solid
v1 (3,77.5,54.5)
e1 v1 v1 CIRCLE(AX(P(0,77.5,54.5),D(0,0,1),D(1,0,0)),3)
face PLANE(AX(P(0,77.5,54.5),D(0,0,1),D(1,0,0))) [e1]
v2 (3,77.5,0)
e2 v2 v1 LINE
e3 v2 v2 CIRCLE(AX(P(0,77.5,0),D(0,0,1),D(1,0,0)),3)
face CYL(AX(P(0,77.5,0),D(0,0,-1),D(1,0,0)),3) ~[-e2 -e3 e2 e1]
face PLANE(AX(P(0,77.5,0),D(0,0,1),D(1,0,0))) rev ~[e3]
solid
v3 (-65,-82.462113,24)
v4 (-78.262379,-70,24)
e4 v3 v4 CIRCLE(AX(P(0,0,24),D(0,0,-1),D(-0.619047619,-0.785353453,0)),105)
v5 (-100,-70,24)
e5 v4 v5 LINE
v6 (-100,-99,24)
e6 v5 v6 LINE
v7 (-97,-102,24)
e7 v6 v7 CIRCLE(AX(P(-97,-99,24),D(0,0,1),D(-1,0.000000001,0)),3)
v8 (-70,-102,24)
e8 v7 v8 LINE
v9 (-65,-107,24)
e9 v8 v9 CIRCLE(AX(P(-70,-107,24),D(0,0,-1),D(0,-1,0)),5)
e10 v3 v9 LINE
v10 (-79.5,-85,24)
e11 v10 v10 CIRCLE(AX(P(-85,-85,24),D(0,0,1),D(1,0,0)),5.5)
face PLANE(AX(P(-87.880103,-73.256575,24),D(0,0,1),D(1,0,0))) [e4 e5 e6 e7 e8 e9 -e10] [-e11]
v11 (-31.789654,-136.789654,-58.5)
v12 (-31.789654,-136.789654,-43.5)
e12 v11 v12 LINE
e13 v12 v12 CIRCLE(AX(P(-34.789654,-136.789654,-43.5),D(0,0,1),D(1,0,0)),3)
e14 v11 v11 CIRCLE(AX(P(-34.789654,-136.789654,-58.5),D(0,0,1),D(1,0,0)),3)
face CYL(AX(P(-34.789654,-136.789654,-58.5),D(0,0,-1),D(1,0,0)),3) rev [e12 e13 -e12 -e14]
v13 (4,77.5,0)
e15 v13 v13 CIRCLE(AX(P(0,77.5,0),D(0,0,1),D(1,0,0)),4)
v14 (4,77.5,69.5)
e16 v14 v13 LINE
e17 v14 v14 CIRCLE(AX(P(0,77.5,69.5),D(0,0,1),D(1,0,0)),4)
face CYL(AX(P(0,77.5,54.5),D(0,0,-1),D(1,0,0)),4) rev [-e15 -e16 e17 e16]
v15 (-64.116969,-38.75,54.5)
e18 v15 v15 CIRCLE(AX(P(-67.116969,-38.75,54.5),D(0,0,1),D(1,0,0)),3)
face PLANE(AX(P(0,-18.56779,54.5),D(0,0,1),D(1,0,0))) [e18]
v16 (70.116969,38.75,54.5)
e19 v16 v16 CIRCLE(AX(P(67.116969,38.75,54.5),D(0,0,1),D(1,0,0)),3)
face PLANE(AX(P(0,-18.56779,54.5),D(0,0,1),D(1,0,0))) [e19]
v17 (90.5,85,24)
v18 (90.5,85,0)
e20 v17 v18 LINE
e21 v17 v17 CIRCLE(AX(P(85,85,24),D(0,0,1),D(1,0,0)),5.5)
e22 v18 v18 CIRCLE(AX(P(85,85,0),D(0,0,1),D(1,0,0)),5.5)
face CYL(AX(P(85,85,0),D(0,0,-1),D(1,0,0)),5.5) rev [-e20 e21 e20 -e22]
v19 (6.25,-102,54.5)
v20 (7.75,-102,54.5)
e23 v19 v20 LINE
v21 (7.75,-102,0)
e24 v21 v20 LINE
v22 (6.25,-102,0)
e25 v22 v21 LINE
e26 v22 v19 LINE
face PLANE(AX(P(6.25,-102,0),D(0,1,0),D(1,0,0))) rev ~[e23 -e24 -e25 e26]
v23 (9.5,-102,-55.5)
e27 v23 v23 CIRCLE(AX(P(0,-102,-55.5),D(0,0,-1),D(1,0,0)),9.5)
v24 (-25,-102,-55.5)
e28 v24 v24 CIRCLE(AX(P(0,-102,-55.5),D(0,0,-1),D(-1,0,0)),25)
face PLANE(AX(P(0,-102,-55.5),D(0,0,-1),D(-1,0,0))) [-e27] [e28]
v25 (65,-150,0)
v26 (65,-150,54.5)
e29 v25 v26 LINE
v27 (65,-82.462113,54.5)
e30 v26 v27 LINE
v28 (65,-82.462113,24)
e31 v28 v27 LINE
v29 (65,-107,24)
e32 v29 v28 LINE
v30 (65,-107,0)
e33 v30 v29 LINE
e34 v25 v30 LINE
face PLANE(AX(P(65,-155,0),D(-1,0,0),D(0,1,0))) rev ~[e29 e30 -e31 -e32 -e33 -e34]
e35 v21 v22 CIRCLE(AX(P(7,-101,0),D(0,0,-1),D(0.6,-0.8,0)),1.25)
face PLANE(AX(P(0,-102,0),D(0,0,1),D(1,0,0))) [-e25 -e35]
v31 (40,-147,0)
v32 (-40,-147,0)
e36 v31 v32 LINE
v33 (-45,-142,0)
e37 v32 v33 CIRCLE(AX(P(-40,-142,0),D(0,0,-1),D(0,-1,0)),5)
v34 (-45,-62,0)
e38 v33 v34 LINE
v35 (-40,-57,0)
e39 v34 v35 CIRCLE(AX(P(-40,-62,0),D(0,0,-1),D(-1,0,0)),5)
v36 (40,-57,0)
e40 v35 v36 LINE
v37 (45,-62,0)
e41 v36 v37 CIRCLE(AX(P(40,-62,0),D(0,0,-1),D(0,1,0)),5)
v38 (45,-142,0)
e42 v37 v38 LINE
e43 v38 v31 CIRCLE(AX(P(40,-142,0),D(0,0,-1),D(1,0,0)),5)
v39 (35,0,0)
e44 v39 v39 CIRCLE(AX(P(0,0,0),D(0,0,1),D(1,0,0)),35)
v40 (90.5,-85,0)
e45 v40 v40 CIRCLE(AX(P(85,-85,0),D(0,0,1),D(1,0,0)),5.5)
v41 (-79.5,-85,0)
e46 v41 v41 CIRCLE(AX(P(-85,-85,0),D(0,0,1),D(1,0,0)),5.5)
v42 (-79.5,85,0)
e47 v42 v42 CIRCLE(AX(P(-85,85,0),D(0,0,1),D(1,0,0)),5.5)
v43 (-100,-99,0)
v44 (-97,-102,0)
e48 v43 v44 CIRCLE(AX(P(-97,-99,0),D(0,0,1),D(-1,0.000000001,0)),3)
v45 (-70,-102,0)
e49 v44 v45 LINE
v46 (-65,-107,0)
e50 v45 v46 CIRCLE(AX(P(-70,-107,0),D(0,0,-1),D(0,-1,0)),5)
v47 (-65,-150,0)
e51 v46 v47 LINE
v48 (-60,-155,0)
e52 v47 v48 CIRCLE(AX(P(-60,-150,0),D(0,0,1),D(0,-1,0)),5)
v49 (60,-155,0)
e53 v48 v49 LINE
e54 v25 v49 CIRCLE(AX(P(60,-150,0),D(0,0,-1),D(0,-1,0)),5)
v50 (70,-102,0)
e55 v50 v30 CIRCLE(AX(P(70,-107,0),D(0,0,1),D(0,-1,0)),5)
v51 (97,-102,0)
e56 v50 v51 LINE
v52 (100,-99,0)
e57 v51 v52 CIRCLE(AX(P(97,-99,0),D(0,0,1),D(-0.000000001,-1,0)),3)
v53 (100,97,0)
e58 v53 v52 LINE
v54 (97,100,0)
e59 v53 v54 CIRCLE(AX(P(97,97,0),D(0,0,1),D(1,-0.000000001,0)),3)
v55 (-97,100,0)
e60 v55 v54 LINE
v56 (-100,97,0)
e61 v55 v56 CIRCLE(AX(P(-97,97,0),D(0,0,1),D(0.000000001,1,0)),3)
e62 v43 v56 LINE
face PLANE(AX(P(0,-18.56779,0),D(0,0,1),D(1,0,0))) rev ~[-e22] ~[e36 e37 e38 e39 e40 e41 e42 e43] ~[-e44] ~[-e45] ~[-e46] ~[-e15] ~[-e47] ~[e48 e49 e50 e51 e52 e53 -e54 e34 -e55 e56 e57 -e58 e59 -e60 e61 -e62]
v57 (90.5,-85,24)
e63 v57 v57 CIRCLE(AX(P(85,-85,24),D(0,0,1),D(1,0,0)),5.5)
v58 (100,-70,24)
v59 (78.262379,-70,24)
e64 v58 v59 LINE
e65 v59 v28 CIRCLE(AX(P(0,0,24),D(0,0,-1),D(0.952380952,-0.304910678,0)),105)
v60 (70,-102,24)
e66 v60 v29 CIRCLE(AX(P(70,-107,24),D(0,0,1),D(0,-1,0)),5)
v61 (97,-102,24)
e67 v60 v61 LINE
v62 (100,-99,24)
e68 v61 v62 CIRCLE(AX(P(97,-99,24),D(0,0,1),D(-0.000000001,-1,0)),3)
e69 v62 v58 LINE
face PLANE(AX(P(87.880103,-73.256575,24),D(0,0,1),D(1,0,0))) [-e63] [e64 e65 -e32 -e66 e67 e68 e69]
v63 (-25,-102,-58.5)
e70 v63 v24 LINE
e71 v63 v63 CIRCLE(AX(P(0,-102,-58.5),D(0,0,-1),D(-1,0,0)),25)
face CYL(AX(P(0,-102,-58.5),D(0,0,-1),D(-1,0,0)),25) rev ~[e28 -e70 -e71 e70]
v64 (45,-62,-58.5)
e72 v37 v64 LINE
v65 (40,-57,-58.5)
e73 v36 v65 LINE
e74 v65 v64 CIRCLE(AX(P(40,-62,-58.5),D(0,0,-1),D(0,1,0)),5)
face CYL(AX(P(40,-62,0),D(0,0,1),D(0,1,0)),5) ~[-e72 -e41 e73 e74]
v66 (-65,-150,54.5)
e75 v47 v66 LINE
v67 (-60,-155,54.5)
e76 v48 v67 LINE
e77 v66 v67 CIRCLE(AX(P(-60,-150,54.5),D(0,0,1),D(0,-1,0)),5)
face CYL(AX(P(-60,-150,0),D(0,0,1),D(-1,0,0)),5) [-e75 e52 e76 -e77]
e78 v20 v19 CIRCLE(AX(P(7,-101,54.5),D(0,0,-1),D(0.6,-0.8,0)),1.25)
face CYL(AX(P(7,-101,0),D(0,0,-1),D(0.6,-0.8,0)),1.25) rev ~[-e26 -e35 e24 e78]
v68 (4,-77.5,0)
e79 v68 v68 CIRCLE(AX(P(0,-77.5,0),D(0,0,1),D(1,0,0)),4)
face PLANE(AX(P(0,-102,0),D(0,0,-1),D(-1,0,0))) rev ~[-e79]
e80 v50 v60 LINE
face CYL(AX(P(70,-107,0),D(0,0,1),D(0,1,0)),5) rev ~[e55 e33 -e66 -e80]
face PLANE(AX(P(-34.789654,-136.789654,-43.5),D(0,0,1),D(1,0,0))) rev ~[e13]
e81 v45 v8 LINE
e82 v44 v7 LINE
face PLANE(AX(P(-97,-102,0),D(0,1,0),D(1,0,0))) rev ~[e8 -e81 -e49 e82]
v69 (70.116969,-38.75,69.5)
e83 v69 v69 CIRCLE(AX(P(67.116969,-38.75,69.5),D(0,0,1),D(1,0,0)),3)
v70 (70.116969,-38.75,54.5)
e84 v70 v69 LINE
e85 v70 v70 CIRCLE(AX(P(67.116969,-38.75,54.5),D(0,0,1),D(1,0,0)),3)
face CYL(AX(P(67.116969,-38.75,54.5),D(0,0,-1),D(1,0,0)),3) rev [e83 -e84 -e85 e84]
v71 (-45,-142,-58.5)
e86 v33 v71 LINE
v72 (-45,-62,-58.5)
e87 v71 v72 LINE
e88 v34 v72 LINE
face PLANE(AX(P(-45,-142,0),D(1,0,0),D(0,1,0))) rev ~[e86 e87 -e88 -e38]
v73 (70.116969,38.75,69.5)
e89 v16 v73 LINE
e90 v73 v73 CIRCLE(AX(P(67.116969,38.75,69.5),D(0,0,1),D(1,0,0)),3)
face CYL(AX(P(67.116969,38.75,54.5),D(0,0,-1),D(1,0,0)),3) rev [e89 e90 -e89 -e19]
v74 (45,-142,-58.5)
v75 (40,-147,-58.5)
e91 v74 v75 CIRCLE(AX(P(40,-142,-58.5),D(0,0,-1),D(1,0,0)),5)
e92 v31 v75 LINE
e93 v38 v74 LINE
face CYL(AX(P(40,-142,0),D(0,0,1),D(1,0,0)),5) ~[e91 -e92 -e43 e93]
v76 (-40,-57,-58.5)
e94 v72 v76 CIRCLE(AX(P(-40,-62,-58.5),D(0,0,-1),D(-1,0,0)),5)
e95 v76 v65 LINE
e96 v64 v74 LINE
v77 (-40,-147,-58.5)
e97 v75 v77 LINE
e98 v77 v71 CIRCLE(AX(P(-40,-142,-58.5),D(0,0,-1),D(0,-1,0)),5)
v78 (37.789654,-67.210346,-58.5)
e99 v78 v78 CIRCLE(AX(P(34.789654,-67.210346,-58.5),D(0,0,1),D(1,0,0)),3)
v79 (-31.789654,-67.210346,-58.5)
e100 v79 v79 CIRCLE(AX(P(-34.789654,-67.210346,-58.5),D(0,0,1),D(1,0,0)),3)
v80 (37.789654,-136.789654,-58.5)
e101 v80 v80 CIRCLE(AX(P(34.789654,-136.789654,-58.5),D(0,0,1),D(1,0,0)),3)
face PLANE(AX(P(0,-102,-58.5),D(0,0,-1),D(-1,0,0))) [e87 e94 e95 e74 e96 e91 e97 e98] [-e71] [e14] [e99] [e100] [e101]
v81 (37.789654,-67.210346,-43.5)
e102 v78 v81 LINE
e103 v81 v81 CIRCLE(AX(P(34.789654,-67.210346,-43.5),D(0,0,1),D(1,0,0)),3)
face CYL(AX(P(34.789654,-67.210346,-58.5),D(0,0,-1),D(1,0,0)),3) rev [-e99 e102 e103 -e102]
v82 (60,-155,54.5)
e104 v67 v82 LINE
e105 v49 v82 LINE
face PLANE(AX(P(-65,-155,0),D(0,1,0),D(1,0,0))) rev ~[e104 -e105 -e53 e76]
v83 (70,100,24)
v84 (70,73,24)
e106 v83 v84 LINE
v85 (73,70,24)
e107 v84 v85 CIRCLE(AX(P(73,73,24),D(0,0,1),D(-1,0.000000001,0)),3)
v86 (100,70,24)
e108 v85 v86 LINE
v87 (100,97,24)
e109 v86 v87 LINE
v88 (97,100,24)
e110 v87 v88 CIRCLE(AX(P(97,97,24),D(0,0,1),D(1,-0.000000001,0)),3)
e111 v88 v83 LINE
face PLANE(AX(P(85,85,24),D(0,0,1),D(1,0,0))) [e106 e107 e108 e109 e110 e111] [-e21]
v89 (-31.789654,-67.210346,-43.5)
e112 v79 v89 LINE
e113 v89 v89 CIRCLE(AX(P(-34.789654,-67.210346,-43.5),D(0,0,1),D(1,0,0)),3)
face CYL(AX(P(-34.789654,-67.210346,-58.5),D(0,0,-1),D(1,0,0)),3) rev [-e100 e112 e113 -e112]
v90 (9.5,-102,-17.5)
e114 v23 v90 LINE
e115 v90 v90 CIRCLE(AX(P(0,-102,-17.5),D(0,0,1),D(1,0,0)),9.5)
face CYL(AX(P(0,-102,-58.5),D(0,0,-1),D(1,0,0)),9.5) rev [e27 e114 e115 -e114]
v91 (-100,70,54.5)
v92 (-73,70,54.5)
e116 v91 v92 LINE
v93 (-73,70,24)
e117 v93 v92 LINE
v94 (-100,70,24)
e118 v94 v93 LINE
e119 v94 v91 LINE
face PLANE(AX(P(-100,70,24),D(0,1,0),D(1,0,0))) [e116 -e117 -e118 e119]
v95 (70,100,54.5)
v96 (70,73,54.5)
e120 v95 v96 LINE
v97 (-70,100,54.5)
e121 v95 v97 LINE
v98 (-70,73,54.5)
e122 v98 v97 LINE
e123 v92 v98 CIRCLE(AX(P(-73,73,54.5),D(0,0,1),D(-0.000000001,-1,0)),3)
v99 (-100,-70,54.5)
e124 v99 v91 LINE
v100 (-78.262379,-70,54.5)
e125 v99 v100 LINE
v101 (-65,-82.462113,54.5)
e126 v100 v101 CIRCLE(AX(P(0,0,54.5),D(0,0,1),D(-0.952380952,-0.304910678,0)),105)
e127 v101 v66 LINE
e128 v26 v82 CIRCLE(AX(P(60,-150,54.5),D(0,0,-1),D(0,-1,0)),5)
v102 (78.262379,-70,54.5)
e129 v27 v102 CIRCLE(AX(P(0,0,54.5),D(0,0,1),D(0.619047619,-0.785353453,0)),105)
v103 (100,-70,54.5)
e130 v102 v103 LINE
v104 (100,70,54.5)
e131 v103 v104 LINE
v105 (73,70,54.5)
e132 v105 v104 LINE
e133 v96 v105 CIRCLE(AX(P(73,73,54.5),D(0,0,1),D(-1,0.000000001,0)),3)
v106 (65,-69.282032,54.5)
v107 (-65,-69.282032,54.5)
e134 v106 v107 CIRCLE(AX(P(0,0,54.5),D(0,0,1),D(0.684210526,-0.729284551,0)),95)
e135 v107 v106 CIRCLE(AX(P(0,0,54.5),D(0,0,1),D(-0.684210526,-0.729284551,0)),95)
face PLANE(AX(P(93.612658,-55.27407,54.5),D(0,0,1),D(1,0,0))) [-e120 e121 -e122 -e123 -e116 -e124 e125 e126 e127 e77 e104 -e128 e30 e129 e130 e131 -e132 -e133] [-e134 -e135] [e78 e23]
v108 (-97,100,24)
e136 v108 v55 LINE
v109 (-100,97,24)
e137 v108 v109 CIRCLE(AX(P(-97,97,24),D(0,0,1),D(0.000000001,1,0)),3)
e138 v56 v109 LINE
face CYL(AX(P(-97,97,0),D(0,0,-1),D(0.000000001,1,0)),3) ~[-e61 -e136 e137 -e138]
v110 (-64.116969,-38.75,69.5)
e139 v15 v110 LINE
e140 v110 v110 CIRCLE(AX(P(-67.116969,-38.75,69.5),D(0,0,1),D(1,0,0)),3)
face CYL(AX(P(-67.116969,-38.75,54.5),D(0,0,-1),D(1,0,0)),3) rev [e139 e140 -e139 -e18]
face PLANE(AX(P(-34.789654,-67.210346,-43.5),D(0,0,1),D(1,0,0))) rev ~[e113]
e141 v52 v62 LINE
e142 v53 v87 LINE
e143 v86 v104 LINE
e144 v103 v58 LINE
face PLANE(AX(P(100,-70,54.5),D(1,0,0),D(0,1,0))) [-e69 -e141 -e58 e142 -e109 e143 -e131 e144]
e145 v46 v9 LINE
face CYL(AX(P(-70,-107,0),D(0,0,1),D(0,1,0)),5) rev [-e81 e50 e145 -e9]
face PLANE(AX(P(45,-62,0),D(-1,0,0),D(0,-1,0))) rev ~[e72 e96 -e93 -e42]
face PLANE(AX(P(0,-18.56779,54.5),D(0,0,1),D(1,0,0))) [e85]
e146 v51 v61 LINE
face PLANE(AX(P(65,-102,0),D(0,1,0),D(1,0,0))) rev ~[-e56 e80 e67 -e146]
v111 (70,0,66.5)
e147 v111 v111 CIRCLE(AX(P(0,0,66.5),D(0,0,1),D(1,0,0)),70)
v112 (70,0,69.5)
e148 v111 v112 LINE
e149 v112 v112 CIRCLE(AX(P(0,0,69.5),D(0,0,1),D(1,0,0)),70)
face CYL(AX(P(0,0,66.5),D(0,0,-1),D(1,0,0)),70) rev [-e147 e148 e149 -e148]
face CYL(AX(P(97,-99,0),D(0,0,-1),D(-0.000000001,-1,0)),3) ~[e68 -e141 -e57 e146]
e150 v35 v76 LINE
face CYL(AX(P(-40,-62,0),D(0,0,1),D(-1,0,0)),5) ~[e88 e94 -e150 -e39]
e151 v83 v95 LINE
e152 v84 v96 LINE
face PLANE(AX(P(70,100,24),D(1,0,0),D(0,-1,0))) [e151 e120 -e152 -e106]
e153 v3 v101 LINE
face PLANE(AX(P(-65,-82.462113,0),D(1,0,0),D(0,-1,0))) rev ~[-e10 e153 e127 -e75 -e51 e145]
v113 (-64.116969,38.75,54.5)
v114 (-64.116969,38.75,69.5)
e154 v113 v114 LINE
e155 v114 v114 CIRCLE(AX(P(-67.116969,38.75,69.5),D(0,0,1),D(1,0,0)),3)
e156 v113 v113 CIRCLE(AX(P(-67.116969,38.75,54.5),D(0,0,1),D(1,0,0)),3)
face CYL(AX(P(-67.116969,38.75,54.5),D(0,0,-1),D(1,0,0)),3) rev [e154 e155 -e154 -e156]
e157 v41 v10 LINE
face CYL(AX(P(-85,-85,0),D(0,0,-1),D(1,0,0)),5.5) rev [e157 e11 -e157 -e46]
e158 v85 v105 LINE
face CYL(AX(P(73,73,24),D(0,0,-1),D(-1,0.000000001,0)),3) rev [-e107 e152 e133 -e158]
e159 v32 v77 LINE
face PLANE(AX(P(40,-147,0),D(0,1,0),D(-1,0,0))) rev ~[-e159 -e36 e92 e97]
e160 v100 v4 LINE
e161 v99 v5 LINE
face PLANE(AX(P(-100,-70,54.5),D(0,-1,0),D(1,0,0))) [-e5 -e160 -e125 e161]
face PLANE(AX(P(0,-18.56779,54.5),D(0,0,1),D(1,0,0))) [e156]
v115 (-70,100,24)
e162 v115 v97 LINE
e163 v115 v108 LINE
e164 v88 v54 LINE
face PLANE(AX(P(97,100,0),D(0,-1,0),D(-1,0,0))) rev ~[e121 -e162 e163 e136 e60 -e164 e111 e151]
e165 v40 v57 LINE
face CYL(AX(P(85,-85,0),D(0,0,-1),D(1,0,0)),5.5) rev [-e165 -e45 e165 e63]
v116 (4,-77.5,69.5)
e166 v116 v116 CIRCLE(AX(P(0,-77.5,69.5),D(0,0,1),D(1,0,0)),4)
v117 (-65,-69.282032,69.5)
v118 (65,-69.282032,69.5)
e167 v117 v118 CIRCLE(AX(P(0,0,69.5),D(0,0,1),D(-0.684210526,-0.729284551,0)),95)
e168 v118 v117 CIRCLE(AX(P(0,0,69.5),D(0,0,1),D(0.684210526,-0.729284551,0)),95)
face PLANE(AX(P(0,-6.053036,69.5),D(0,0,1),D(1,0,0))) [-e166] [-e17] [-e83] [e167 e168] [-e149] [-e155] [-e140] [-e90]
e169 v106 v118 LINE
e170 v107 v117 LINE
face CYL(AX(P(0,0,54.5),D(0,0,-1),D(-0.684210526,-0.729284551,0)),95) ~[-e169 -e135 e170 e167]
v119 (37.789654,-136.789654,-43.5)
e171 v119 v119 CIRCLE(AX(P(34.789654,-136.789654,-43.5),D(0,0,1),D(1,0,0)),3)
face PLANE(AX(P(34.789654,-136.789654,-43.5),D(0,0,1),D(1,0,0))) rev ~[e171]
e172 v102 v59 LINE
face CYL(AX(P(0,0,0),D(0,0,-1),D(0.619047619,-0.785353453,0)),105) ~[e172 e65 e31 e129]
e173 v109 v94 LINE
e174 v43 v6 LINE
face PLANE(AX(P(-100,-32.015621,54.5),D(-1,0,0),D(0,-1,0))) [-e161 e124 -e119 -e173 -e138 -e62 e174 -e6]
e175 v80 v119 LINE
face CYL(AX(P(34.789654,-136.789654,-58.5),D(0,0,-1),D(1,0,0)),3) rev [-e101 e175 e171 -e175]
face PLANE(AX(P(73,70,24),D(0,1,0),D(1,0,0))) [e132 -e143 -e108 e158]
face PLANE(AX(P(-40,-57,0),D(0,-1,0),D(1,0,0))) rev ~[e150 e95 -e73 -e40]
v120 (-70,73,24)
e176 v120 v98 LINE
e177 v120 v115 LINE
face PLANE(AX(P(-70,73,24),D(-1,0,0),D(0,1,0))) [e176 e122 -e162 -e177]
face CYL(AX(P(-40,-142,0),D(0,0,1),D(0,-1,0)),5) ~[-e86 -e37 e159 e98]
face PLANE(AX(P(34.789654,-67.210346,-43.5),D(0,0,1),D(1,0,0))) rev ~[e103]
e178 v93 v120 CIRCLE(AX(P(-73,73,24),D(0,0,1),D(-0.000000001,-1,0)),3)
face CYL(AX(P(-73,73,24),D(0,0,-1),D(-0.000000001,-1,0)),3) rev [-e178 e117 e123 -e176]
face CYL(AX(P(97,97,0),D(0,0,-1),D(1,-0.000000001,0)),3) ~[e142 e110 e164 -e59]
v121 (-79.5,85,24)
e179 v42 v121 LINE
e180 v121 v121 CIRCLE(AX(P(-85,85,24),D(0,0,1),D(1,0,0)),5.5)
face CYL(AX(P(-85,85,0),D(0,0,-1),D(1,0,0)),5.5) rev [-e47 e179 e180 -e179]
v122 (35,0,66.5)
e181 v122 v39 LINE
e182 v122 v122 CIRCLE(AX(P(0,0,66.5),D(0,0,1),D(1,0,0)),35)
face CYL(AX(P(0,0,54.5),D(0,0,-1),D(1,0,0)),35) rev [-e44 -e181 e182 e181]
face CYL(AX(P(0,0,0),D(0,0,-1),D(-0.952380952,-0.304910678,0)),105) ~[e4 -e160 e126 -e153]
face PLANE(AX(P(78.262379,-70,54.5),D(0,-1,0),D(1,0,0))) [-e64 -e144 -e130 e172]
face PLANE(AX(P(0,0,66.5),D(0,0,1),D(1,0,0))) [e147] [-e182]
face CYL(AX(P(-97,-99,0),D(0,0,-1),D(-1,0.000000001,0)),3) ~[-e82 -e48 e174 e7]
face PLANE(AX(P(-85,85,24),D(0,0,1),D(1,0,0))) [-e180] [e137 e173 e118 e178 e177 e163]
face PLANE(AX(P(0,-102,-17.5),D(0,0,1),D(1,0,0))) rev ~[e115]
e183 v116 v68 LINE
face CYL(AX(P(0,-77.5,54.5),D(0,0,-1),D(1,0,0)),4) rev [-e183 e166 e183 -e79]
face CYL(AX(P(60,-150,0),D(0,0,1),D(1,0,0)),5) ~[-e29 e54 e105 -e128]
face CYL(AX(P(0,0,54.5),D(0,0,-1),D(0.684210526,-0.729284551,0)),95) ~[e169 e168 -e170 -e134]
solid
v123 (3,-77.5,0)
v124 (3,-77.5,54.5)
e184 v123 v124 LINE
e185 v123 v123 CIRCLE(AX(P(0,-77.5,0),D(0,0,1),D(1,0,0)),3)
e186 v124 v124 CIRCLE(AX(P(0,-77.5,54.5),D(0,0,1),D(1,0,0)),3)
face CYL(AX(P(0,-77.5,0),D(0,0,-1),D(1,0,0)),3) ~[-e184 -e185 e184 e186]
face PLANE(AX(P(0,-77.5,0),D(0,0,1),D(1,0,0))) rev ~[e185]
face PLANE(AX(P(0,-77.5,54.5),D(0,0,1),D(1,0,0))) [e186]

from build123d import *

# Parameters (mm, degrees)
SKETCH_1_R          = 4
SKETCH_1_R_2        = 5.5
SKETCH_1_R_3        = 35
EXTRUDE_1_DEPTH     = 54.5
SKETCH_1_R_4        = 3
EXTRUDE_1_2_DEPTH   = 54.5
EXTRUDE_1_3_DEPTH   = 54.5
SKETCH_1_3_R        = 5.5
EXTRUDE_2_DEPTH     = 24
EXTRUDE_START       = 54.5
SKETCH_1_4_R        = 3
SKETCH_1_4_R_2      = 4
SKETCH_1_4_R_3      = 35
EXTRUDE_3_DEPTH     = 15
CUT_EXTRUDE_START   = 66.5
SKETCH_1_5_R        = 70
SKETCH_1_5_R_2      = 35
CUT_EXTRUDE_1_DEPTH = 3
SKETCH_2_R          = 9.5
SKETCH_2_R_2        = 3
EXTRUDE_4_DEPTH     = 58.5
CUT_EXTRUDE_START_2 = -58.5
SKETCH_2_3_R        = 9.5
CUT_EXTRUDE_2_DEPTH = 41
SKETCH_2_4_R        = 3
CUT_EXTRUDE_3_DEPTH = 15
FILLET_1_R          = 5
SKETCH_3_R          = 25
CUT_EXTRUDE_4_DEPTH = 3
EXTRUDE_5_REACH     = 218.319
CUT_EXTRUDE_START_3 = -30.5
SKETCH_4_3_R        = 5.5
CUT_EXTRUDE_5_DEPTH = 30.5


with BuildPart() as part:
    # 草图1 → 凸台-拉伸1 (new body)
    with BuildSketch(Plane.XY):
        with BuildLine():
            ThreePointArc((-97, 100), (-99.121320344, 99.121320344), (-100, 97))
            Line((-100, 97), (-100, -32.015621187))
            ThreePointArc((-100, -32.015621187), (-86.269705701, -59.854305428), (-65, -82.462112512))
            Line((-65, -82.462112512), (-65, -155))
            Line((-65, -155), (65, -155))
            Line((65, -155), (65, -82.462112512))
            ThreePointArc((65, -82.462112512), (86.269705701, -59.854305428), (100, -32.015621187))
            Line((100, -32.015621187), (100, 97))
            ThreePointArc((100, 97), (99.121320344, 99.121320344), (97, 100))
            Line((97, 100), (-97, 100))
        make_face()
        with BuildLine():
            ThreePointArc((7.75, -102), (7, -102.25), (6.25, -102))
            Line((6.25, -102), (7.75, -102))
        make_face(mode=Mode.SUBTRACT)
        with Locations((0, -77.5)):
            Circle(SKETCH_1_R, mode=Mode.SUBTRACT)
        with Locations((-85, 85)):
            Circle(SKETCH_1_R_2, mode=Mode.SUBTRACT)
        Circle(SKETCH_1_R_3, mode=Mode.SUBTRACT)
        with Locations((0, 77.5)):
            Circle(SKETCH_1_R, mode=Mode.SUBTRACT)
        with Locations((85, 85)):
            Circle(SKETCH_1_R_2, mode=Mode.SUBTRACT)
    extrude(amount=EXTRUDE_1_DEPTH)

    # 草图1<3> → 凸台-拉伸2 (add)
    # profile 1 of 4: a face of its own
    with BuildSketch(Plane.XY):
        with BuildLine():
            ThreePointArc((-97, 100), (-99.121320344, 99.121320344), (-100, 97))
            Line((-100, 97), (-100, 32.015621187))
            ThreePointArc((-100, 32.015621187), (-74.246212025, 74.246212025), (-32.015621187, 100))
            Line((-32.015621187, 100), (-97, 100))
        make_face()
        with Locations((-85, 85)):
            Circle(SKETCH_1_3_R, mode=Mode.SUBTRACT)
    # profile 2 of 4: a face of its own
    with BuildSketch(Plane.XY):
        with BuildLine():
            Line((97, 100), (32.015621187, 100))
            ThreePointArc((32.015621187, 100), (74.246212025, 74.246212025), (100, 32.015621187))
            Line((100, 32.015621187), (100, 97))
            ThreePointArc((100, 97), (99.121320344, 99.121320344), (97, 100))
        make_face()
        with Locations((85, 85)):
            Circle(SKETCH_1_3_R, mode=Mode.SUBTRACT)
    # profile 3 of 4: a face of its own
    with BuildSketch(Plane.XY):
        with BuildLine():
            ThreePointArc((-65, -82.462112512), (-86.269705701, -59.854305428), (-100, -32.015621187))
            Line((-100, -32.015621187), (-100, -99))
            ThreePointArc((-100, -99), (-99.121320344, -101.121320344), (-97, -102))
            Line((-97, -102), (-65, -102))
            Line((-65, -102), (-65, -82.462112512))
        make_face()
        with Locations((-85, -85)):
            Circle(SKETCH_1_3_R, mode=Mode.SUBTRACT)
    # profile 4 of 4: a face of its own
    with BuildSketch(Plane.XY):
        with BuildLine():
            Line((100, -99), (100, -32.015621187))
            ThreePointArc((100, -32.015621187), (86.269705701, -59.854305428), (65, -82.462112512))
            Line((65, -82.462112512), (65, -102))
            Line((65, -102), (97, -102))
            ThreePointArc((97, -102), (99.121320344, -101.121320344), (100, -99))
        make_face()
        with Locations((85, -85)):
            Circle(SKETCH_1_3_R, mode=Mode.SUBTRACT)
    extrude(amount=EXTRUDE_2_DEPTH)

    # 草图1<4> → 凸台-拉伸3 (add)
    with BuildSketch(Plane.XY.offset(EXTRUDE_START)):
        with BuildLine():
            ThreePointArc((-65, -69.282032303), (0, -95), (65, -69.282032303))
            ThreePointArc((65, -69.282032303), (0, 95), (-65, -69.282032303))
        make_face()
        with Locations((-67.116968793, -38.75)):
            Circle(SKETCH_1_4_R, mode=Mode.SUBTRACT)
        with Locations((0, -77.5)):
            Circle(SKETCH_1_4_R_2, mode=Mode.SUBTRACT)
        with Locations((67.116968793, -38.75)):
            Circle(SKETCH_1_4_R, mode=Mode.SUBTRACT)
        with Locations((-67.116968793, 38.75)):
            Circle(SKETCH_1_4_R, mode=Mode.SUBTRACT)
        with Locations((0, 77.5)):
            Circle(SKETCH_1_4_R_2, mode=Mode.SUBTRACT)
        with Locations((67.116968793, 38.75)):
            Circle(SKETCH_1_4_R, mode=Mode.SUBTRACT)
        Circle(SKETCH_1_4_R_3, mode=Mode.SUBTRACT)
    extrude(amount=EXTRUDE_3_DEPTH)

    # 草图1<5> → 切除-拉伸1 (cut)
    with BuildSketch(Plane.XY.offset(CUT_EXTRUDE_START)):
        Circle(SKETCH_1_5_R)
        Circle(SKETCH_1_5_R_2, mode=Mode.SUBTRACT)
    extrude(amount=CUT_EXTRUDE_1_DEPTH, mode=Mode.SUBTRACT)

    # 草图2 → 凸台-拉伸4 (add)
    # profile 1 of 6: a face of its own
    with BuildSketch(Plane.XY):
        with BuildLine():
            ThreePointArc((40, -57), (43.535533906, -58.464466094), (45, -62))
            Line((45, -62), (45, -142))
            ThreePointArc((45, -142), (43.535533906, -145.535533906), (40, -147))
            Line((40, -147), (-40, -147))
            ThreePointArc((-40, -147), (-43.535533906, -145.535533906), (-45, -142))
            Line((-45, -142), (-45, -62))
            ThreePointArc((-45, -62), (-43.535533906, -58.464466094), (-40, -57))
            Line((-40, -57), (40, -57))
        make_face()
        with Locations((0, -102)):
            Circle(SKETCH_2_R, mode=Mode.SUBTRACT)
        with Locations((-34.789653634, -136.789653634)):
            Circle(SKETCH_2_R_2, mode=Mode.SUBTRACT)
        with Locations((34.789653634, -136.789653634)):
            Circle(SKETCH_2_R_2, mode=Mode.SUBTRACT)
        with Locations((34.789653634, -67.210346366)):
            Circle(SKETCH_2_R_2, mode=Mode.SUBTRACT)
        with Locations((-34.789653634, -67.210346366)):
            Circle(SKETCH_2_R_2, mode=Mode.SUBTRACT)
    # profile 2 of 6: a face of its own
    with BuildSketch(Plane.XY):
        with Locations((0, -102)):
            Circle(SKETCH_2_R)
    # profile 3 of 6: a face of its own
    with BuildSketch(Plane.XY):
        with Locations((34.789653634, -67.210346366)):
            Circle(SKETCH_2_R_2)
    # profile 4 of 6: a face of its own
    with BuildSketch(Plane.XY):
        with Locations((-34.789653634, -67.210346366)):
            Circle(SKETCH_2_R_2)
    # profile 5 of 6: a face of its own
    with BuildSketch(Plane.XY):
        with Locations((-34.789653634, -136.789653634)):
            Circle(SKETCH_2_R_2)
    # profile 6 of 6: a face of its own
    with BuildSketch(Plane.XY):
        with Locations((34.789653634, -136.789653634)):
            Circle(SKETCH_2_R_2)
    extrude(amount=-EXTRUDE_4_DEPTH)

    # 草图2<3> → 切除-拉伸2 (cut)
    with BuildSketch(Plane.XY.offset(CUT_EXTRUDE_START_2)):
        with Locations((0, -102)):
            Circle(SKETCH_2_3_R)
    extrude(amount=CUT_EXTRUDE_2_DEPTH, mode=Mode.SUBTRACT)

    # 草图2<4> → 切除-拉伸3 (cut)
    with BuildSketch(Plane.XY.offset(CUT_EXTRUDE_START_2)):
        with Locations((34.789653634, -67.210346366)):
            Circle(SKETCH_2_4_R)
        with Locations((-34.789653634, -67.210346366)):
            Circle(SKETCH_2_4_R)
        with Locations((34.789653634, -136.789653634)):
            Circle(SKETCH_2_4_R)
        with Locations((-34.789653634, -136.789653634)):
            Circle(SKETCH_2_4_R)
    extrude(amount=CUT_EXTRUDE_3_DEPTH, mode=Mode.SUBTRACT)

    # 圆角1
    fillet_1_edges = [part.edges().sort_by_distance(p)[0] for p in [
        (65, -102, 12),
        (-65, -155, 27.25),
        (65, -155, 27.25),
        (-65, -102, 12),
    ]]
    fillet(fillet_1_edges, radius=FILLET_1_R)

    # 草图3 → 切除-拉伸4 (cut)
    with BuildSketch(Plane(origin=(0, 0, -58.5), x_dir=(-1, 0, 0), z_dir=(0, 0, -1))):
        with Locations((0, -102)):
            Circle(SKETCH_3_R)
    extrude(amount=-CUT_EXTRUDE_4_DEPTH, mode=Mode.SUBTRACT)

    # 草图4 → 凸台-拉伸5 (add, up to next)
    with BuildSketch(Plane.XY.offset(54.5), mode=Mode.PRIVATE) as extrude_5_sk1:
        with BuildLine():
            Line((-100, -32.015621187), (-100, -70))
            Line((-100, -70), (-78.262379212, -70))
            ThreePointArc((-78.262379212, -70), (-91.132168958, -52.152926868), (-100, -32.015621187))
        make_face()
    extrude_5_tool1 = extrude(extrude_5_sk1.sketch, amount=-EXTRUDE_5_REACH, mode=Mode.PRIVATE) - part.part
    # 草图4 → 凸台-拉伸5 (add, up to next)
    with BuildSketch(Plane.XY.offset(54.5), mode=Mode.PRIVATE) as extrude_5_sk2:
        with BuildLine():
            ThreePointArc((100, -32.015621187), (91.132168958, -52.152926868), (78.262379212, -70))
            Line((78.262379212, -70), (100, -70))
            Line((100, -70), (100, -32.015621187))
        make_face()
    extrude_5_tool2 = extrude(extrude_5_sk2.sketch, amount=-EXTRUDE_5_REACH, mode=Mode.PRIVATE) - part.part
    add(extrude_5_tool1.solids().sort_by_distance((-93.304828, -58.484573, 54.5))[0])
    add(extrude_5_tool2.solids().sort_by_distance((93.304828, -58.484573, 54.5))[0])

    # 草图4<3> → 切除-拉伸5 (cut)
    # profile 1 of 2: a face of its own
    with BuildSketch(Plane.XY.offset(54.5).offset(CUT_EXTRUDE_START_3)):
        with BuildLine():
            Line((-100, 70), (-73, 70))
            ThreePointArc((-73, 70), (-70.878679656, 70.878679656), (-70, 73))
            Line((-70, 73), (-70, 100))
            Line((-70, 100), (-97, 100))
            ThreePointArc((-97, 100), (-99.121320344, 99.121320344), (-100, 97))
            Line((-100, 97), (-100, 70))
        make_face()
        with Locations((-85, 85)):
            Circle(SKETCH_4_3_R, mode=Mode.SUBTRACT)
    # profile 2 of 2: a face of its own
    with BuildSketch(Plane.XY.offset(54.5).offset(CUT_EXTRUDE_START_3)):
        with BuildLine():
            Line((97, 100), (70, 100))
            Line((70, 100), (70, 73))
            ThreePointArc((70, 73), (70.878679656, 70.878679656), (73, 70))
            Line((73, 70), (100, 70))
            Line((100, 70), (100, 97))
            ThreePointArc((100, 97), (99.121320344, 99.121320344), (97, 100))
        make_face()
        with Locations((85, 85)):
            Circle(SKETCH_4_3_R, mode=Mode.SUBTRACT)
    extrude(amount=CUT_EXTRUDE_5_DEPTH, mode=Mode.SUBTRACT)


with BuildPart() as body_2:
    # 草图1 → Extrude 1 2 (new body)
    with BuildSketch(Plane.XY):
        with Locations((0, 77.5)):
            Circle(SKETCH_1_R_4)
    extrude(amount=EXTRUDE_1_2_DEPTH)


with BuildPart() as body_3:
    # 草图1 → Extrude 1 3 (new body)
    with BuildSketch(Plane.XY):
        with Locations((0, -77.5)):
            Circle(SKETCH_1_R_4)
    extrude(amount=EXTRUDE_1_3_DEPTH)


solid = Compound([part.part, body_2.part, body_3.part])
